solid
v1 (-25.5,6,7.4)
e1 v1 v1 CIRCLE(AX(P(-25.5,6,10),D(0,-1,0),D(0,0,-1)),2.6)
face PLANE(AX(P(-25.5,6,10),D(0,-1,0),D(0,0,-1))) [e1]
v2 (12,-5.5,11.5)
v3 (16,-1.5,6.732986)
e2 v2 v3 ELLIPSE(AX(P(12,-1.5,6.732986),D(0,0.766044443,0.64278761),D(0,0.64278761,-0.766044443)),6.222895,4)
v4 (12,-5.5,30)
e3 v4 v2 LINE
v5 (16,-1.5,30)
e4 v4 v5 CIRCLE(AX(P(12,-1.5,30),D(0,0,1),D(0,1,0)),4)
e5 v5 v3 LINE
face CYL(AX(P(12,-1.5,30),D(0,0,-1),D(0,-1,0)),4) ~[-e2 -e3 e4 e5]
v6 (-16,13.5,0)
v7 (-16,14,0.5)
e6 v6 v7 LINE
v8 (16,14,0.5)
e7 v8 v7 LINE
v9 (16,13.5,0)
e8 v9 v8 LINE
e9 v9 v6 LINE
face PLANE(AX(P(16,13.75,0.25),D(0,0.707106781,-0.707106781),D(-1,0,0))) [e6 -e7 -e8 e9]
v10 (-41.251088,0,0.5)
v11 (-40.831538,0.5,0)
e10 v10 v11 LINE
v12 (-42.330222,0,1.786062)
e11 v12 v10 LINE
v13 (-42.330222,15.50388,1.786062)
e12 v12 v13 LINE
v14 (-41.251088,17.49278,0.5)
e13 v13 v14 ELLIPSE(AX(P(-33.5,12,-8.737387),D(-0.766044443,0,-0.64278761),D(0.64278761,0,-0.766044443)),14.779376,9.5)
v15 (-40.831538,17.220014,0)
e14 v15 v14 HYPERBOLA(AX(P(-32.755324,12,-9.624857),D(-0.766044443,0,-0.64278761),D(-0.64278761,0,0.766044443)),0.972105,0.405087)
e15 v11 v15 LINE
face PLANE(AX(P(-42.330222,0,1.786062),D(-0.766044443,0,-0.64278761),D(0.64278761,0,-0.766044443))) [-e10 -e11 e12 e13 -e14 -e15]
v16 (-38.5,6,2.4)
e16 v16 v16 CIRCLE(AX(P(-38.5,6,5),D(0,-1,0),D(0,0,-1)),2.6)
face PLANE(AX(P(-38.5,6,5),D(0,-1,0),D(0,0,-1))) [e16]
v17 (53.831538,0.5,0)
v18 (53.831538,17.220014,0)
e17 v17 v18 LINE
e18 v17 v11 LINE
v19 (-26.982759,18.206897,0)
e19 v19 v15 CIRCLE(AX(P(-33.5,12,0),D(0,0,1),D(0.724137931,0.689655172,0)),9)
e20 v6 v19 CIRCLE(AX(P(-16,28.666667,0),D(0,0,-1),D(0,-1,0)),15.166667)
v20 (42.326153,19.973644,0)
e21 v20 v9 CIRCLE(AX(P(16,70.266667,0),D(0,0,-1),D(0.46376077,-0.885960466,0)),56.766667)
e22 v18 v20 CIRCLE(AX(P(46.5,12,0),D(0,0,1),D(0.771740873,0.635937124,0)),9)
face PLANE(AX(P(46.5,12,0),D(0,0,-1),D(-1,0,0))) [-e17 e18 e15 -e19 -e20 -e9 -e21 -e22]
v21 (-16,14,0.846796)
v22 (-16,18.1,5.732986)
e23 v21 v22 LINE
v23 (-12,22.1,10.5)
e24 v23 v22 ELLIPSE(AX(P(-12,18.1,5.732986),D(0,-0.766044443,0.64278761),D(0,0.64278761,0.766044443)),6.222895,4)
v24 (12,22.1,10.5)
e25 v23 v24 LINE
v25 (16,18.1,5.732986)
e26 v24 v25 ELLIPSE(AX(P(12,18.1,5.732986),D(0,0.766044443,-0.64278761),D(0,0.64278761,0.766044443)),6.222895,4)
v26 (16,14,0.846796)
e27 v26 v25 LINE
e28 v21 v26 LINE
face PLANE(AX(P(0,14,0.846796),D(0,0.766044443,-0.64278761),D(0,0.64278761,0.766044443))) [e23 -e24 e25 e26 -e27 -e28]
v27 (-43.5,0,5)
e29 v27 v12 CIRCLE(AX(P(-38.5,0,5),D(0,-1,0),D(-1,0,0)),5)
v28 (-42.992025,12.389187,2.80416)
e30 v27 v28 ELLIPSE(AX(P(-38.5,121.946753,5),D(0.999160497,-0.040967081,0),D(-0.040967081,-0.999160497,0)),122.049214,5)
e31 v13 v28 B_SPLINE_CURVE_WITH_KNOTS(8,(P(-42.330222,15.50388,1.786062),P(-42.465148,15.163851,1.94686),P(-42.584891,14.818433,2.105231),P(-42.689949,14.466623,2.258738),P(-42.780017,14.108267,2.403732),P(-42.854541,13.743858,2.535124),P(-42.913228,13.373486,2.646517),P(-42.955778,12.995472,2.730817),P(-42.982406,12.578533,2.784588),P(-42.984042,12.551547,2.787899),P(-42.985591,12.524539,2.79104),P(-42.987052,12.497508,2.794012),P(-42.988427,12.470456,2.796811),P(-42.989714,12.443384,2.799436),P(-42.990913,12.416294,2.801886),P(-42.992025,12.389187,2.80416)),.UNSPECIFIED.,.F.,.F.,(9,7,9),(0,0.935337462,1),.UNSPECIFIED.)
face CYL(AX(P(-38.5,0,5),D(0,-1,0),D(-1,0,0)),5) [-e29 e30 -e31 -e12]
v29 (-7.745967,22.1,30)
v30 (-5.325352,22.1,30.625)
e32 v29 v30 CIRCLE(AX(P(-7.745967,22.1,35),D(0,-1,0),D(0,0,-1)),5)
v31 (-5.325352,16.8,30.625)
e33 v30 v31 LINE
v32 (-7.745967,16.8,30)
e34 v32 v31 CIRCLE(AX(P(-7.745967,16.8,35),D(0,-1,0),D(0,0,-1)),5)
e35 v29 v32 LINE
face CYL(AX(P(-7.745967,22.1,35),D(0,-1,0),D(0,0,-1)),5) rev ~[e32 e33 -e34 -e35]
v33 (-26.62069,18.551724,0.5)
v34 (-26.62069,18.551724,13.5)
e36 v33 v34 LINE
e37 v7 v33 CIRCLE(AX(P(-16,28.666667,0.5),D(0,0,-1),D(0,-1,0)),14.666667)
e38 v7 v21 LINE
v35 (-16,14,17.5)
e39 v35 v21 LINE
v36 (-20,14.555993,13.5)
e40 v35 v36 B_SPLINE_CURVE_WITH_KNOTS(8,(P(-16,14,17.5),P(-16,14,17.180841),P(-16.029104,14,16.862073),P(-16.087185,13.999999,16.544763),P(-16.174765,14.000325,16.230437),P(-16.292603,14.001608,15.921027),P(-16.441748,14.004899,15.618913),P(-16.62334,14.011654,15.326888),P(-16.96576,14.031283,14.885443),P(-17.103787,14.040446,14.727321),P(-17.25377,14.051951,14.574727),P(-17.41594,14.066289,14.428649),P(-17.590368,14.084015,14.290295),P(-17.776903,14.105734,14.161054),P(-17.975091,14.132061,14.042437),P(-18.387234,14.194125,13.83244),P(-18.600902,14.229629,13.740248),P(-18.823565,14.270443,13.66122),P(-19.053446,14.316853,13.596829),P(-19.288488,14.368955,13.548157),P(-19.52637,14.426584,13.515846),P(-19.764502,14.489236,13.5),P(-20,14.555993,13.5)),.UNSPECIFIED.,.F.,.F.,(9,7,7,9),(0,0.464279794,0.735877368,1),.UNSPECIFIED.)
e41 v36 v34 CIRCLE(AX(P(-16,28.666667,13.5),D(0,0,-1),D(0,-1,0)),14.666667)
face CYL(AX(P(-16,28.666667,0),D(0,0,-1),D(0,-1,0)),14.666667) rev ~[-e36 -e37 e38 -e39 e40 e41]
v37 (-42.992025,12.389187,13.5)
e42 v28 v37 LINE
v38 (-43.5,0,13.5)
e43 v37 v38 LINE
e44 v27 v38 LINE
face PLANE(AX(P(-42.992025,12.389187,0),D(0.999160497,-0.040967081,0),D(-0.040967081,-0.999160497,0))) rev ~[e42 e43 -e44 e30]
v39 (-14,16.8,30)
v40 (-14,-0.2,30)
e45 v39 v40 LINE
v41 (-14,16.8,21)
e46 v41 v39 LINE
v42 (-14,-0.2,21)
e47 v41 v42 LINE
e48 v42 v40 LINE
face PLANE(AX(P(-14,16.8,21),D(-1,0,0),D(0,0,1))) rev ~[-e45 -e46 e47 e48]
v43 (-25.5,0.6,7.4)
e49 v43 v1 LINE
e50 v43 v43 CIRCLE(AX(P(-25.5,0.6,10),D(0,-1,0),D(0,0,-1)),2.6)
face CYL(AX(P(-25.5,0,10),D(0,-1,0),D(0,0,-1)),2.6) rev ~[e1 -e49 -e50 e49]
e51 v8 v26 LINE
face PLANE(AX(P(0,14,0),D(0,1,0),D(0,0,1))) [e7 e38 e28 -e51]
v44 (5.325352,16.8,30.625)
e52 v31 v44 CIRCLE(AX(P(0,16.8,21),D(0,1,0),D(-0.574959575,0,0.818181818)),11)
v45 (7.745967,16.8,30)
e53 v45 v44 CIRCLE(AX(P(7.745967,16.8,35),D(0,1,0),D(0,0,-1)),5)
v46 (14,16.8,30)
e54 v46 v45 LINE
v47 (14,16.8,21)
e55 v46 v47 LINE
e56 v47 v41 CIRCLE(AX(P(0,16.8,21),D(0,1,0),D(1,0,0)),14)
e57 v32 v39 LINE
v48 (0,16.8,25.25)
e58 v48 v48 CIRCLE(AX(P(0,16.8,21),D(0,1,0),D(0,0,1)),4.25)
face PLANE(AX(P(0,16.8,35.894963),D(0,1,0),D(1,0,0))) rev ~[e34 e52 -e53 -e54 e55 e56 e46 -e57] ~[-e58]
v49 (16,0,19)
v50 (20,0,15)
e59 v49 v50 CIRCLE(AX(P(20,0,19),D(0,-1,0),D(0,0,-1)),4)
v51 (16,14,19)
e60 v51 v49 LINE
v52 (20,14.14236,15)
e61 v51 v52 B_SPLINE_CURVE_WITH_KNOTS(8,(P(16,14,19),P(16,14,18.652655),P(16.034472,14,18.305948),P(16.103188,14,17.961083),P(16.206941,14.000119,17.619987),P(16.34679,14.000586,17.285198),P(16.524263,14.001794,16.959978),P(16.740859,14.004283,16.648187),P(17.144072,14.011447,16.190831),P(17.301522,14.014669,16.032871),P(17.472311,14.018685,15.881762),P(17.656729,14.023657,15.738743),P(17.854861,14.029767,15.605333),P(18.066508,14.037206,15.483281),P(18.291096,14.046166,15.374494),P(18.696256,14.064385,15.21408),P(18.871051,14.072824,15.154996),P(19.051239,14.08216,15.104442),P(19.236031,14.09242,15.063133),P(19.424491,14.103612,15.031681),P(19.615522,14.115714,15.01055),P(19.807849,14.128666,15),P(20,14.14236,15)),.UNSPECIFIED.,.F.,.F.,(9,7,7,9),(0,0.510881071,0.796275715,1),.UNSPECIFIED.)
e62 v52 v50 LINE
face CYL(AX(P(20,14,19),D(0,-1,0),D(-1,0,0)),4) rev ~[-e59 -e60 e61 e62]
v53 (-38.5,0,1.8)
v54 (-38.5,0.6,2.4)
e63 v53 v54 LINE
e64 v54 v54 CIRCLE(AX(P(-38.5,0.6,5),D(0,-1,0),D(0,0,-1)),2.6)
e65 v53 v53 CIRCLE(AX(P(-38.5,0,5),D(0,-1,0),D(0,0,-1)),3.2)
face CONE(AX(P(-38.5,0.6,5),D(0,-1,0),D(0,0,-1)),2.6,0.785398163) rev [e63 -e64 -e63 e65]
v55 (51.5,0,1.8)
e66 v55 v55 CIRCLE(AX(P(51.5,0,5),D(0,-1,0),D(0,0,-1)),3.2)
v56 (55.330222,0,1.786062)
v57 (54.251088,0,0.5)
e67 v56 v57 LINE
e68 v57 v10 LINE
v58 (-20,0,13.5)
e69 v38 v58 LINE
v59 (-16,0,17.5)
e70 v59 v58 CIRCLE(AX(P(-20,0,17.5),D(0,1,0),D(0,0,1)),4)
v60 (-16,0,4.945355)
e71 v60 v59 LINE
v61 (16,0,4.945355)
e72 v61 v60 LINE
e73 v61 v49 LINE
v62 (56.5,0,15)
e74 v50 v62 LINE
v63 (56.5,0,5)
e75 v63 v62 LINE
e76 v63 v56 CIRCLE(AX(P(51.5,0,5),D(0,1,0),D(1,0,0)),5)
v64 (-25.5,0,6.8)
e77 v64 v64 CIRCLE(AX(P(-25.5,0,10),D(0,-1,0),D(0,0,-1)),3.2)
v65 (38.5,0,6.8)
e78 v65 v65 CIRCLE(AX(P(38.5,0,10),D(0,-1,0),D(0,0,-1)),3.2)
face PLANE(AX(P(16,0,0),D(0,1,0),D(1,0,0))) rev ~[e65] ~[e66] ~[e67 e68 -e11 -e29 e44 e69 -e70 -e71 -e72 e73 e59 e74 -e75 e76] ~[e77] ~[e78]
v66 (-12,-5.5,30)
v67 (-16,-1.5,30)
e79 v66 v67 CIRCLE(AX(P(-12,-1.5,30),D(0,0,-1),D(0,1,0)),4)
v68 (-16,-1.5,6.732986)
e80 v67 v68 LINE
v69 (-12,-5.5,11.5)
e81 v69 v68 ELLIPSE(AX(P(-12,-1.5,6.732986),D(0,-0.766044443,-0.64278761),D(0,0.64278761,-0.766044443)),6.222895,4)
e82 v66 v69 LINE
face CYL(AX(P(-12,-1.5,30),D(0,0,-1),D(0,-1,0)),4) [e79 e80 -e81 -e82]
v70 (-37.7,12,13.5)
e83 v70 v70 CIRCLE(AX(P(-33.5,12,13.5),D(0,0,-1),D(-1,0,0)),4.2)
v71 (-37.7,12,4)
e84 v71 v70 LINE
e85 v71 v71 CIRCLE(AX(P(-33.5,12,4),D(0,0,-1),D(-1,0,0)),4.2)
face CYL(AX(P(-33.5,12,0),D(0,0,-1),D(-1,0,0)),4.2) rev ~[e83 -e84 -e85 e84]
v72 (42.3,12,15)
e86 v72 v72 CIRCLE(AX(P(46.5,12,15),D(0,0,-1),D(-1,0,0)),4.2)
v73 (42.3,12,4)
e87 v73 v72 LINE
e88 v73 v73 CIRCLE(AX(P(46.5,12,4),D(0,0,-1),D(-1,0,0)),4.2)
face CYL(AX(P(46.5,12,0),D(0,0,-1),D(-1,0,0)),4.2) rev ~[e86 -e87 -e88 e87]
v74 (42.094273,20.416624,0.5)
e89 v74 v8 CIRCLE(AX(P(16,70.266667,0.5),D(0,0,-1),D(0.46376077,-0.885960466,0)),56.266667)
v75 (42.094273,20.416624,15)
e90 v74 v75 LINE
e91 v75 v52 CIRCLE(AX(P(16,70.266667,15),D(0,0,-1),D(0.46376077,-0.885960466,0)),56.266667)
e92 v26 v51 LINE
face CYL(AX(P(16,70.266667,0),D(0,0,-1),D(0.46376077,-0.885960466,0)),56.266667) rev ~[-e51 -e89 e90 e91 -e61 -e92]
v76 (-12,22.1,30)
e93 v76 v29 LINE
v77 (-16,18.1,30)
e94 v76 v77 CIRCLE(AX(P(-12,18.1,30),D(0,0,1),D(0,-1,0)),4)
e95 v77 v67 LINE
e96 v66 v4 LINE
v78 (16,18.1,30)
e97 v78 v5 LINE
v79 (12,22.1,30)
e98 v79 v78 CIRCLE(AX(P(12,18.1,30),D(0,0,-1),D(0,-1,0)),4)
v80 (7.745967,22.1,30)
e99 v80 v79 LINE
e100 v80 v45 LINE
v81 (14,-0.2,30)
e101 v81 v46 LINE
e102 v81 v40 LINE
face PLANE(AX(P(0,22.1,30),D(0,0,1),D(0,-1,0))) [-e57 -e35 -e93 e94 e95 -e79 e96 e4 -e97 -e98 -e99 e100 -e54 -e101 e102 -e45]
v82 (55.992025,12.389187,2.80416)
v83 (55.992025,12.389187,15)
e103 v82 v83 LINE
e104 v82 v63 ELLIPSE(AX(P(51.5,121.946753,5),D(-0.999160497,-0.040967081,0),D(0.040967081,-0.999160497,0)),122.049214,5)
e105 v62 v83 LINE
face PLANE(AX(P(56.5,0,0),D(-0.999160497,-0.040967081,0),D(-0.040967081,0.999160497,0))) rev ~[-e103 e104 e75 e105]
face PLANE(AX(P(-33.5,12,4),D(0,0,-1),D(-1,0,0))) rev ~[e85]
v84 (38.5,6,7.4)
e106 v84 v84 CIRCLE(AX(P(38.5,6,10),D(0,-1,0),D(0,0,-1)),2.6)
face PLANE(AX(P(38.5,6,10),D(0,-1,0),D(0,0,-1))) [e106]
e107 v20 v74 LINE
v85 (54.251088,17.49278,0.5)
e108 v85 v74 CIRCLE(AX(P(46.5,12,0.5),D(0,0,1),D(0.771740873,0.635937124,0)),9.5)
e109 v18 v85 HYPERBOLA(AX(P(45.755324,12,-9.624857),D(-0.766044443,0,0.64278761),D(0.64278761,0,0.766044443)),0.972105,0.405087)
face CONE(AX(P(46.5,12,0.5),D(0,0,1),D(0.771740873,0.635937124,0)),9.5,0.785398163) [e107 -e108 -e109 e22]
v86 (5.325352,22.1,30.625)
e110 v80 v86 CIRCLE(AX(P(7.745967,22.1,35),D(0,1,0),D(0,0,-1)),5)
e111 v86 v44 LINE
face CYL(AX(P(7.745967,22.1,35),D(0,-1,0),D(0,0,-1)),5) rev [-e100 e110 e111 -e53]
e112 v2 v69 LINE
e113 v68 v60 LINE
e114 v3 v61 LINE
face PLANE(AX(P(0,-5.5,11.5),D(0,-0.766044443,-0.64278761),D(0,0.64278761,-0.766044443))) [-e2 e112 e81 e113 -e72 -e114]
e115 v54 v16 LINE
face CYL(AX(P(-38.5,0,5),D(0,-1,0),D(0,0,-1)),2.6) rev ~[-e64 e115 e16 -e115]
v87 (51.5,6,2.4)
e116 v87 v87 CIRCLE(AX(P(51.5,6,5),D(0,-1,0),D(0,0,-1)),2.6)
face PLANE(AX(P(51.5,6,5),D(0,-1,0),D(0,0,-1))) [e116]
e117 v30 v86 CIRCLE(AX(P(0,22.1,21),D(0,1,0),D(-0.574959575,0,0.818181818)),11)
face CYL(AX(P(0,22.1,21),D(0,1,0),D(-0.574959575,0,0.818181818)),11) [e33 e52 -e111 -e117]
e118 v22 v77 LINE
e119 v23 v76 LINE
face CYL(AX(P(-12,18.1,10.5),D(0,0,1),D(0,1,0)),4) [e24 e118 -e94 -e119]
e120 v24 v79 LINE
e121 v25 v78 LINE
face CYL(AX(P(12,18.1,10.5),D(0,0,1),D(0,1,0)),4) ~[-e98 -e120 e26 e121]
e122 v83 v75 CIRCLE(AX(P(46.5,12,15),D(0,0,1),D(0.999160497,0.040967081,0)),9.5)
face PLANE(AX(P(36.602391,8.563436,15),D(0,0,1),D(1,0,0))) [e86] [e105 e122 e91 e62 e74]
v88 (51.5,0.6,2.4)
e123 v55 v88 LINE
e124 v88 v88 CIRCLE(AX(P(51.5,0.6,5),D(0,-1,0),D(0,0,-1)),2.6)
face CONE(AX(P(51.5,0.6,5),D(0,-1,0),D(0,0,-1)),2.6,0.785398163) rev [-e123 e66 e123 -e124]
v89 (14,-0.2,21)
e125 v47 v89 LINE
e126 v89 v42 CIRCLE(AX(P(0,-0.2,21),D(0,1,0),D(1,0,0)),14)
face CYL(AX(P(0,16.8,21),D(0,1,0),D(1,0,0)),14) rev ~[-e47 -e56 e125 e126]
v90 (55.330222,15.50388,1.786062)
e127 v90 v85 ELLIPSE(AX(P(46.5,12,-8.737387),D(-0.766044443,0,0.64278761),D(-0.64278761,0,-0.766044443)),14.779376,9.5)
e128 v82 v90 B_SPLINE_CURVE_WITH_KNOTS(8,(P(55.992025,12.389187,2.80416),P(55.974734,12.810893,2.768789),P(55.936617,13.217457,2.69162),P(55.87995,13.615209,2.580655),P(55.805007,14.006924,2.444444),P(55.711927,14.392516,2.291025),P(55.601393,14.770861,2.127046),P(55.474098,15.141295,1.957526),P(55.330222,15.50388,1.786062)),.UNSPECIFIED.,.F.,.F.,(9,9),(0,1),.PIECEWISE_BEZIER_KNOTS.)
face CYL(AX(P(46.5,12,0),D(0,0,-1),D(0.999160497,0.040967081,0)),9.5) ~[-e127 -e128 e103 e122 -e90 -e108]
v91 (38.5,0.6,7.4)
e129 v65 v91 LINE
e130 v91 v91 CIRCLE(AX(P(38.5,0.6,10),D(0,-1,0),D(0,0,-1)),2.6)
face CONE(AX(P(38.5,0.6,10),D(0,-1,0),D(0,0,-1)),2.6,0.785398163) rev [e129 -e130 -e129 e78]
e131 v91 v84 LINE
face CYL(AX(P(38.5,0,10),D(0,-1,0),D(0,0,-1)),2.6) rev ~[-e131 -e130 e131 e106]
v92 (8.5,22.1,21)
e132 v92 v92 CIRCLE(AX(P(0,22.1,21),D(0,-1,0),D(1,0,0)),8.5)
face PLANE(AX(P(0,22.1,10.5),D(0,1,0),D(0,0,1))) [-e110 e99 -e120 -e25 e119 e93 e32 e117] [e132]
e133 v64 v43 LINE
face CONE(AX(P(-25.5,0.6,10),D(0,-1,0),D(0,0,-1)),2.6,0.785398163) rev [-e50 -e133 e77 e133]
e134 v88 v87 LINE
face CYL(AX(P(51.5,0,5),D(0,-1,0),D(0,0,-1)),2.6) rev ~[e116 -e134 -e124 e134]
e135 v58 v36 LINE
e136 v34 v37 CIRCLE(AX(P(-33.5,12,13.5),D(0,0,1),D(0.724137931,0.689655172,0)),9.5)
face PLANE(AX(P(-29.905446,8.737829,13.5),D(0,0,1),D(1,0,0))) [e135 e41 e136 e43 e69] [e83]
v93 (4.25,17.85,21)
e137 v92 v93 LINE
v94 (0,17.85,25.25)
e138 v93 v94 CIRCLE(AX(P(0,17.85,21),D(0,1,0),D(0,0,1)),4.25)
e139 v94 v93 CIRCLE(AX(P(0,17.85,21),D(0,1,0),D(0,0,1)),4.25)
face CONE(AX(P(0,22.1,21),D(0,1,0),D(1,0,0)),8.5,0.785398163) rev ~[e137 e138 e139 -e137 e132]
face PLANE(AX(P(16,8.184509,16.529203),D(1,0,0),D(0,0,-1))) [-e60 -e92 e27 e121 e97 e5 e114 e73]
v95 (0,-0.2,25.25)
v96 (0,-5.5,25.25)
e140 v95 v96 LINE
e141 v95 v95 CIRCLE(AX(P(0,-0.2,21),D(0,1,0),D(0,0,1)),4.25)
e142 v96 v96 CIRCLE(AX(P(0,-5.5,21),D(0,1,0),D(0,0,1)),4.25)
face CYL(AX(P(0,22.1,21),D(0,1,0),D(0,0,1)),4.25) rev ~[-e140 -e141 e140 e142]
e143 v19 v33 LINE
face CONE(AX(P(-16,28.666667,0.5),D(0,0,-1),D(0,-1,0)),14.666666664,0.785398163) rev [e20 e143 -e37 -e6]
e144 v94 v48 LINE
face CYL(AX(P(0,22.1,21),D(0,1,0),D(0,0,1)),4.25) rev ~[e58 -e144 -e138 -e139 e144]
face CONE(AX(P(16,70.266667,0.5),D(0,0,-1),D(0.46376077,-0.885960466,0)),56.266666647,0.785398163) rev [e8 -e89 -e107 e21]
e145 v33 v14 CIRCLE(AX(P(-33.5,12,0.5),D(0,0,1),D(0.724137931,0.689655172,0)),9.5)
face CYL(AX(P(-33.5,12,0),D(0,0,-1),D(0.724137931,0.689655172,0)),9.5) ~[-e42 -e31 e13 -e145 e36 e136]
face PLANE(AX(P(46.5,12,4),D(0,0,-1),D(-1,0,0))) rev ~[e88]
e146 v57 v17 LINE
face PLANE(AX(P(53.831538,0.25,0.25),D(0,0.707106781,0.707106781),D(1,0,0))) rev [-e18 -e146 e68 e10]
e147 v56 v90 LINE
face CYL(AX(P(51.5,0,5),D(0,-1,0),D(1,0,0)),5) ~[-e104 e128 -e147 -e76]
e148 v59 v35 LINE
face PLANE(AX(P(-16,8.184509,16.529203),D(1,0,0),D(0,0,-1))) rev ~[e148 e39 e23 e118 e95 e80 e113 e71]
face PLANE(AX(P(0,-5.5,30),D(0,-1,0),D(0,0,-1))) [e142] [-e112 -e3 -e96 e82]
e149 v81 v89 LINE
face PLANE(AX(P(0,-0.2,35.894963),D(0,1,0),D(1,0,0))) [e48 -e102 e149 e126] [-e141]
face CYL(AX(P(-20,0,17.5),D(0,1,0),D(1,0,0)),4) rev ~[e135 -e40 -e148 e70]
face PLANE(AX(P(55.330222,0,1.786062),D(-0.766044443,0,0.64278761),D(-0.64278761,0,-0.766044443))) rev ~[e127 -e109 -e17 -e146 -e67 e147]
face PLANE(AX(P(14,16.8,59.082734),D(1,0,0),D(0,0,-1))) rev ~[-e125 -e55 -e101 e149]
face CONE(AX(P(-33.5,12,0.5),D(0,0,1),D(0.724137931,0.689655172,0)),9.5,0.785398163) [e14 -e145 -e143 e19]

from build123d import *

# Parameters (mm, degrees)
BOSS_EXTRUDE1_DEPTH                             = 16
SKETCH2_R                                       = 4.25
CUT_EXTRUDE1_DEPTH                              = 28.6
CUT_EXTRUDE2_START                              = -5.3
CUT_EXTRUDE2_DEPTH                              = 17
CSK_FOR_M8_FLAT_HEAD_MACHINE_SCREW1_D           = 8
CSK_FOR_M8_FLAT_HEAD_MACHINE_SCREW1_CSINK_D     = 17
CSK_FOR_M8_FLAT_HEAD_MACHINE_SCREW1_CSINK_ANGLE = 90
SKETCH6_R                                       = 4.2
BOSS_EXTRUDE2_DEPTH                             = 15
SKETCH7_R                                       = 4.2
BOSS_EXTRUDE3_DEPTH                             = 4
SKETCH9_R                                       = 2.6
CUT_EXTRUDE3_DEPTH                              = 6
CUT_EXTRUDE4_DEPTH                              = 1.5
FILLET2_R                                       = 4
FILLET3_R                                       = 4
BOSS_EXTRUDE4_DEPTH                             = 5.3
FILLET4_R                                       = 5
CHAMFER1_SIZE                                   = 0.6
CUT_EXTRUDE5_DEPTH                              = 23.1
CHAMFER2_SIZE                                   = 0.5


with BuildPart() as part:
    # Sketch1 → Boss-Extrude1 (new body, symmetric)
    with BuildSketch(Plane(origin=(0, 0, 0), x_dir=(0, 0, -1), z_dir=(1, 0, 0))):
        Polygon((0, 0), (0, 14), (-0.8467959, 14), (-10.5, 22.1), (-30, 22.1), (-30, -5.5), (-11.5, -5.5), (-4.945355241, 0), align=None)
    extrude(amount=BOSS_EXTRUDE1_DEPTH, both=True)

    # Sketch2 → Cut-Extrude1 (cut, through all)
    with BuildSketch(Plane(origin=(0, 22.1, 0), x_dir=(1, 0, 0), z_dir=(0, 1, 0))):
        with Locations(Location((0, -21, 0), (0, 0, 270))):  # turned: the seam where the file's is
            Circle(SKETCH2_R)
    extrude(amount=-CUT_EXTRUDE1_DEPTH, mode=Mode.SUBTRACT)

    # Sketch3 → Cut-Extrude2 (cut)
    with BuildSketch(Plane(origin=(0, 22.1, 0), x_dir=(1, 0, 0), z_dir=(0, 1, 0)).offset(CUT_EXTRUDE2_START)):
        with BuildLine():
            Line((-14, -21), (-14, -59.082734499))
            Line((-14, -59.082734499), (14, -59.082734499))
            Line((14, -59.082734499), (14, -21))
            ThreePointArc((14, -21), (0, -7), (-14, -21))
        make_face()
    extrude(amount=-CUT_EXTRUDE2_DEPTH, mode=Mode.SUBTRACT)

    # CSK for M8 Flat Head Machine Screw1 (through all)
    with Locations(Plane(origin=(0, 22.1, 0), x_dir=(-1, 0, 0), z_dir=(0, 1, 0))):
        with Locations((0, 21)):
            CounterSinkHole(CSK_FOR_M8_FLAT_HEAD_MACHINE_SCREW1_D / 2, CSK_FOR_M8_FLAT_HEAD_MACHINE_SCREW1_CSINK_D / 2, counter_sink_angle=CSK_FOR_M8_FLAT_HEAD_MACHINE_SCREW1_CSINK_ANGLE)

    # Sketch6 → Boss-Extrude2 (add)
    with BuildSketch(Plane(origin=(0, 0, 0), x_dir=(-1, 0, 0), z_dir=(0, 0, -1))):
        with BuildLine():
            Line((-16, 14), (-16, 0))
            Line((-16, 0), (-56.5, 0))
            Line((-56.5, 0), (-55.992024719, 12.389187266))
            ThreePointArc((-55.992024719, 12.389187266), (-51.251583122, 20.226327117), (-42.094272681, 20.41662443))
            ThreePointArc((-42.094272681, 20.41662443), (-29.435811623, 15.627699401), (-16, 14))
        make_face()
        with Locations((-46.5, 12)):
            Circle(SKETCH6_R, mode=Mode.SUBTRACT)
        with BuildLine():
            Line((42.992024719, 12.389187266), (43.5, 0))
            Line((43.5, 0), (16, 0))
            Line((16, 0), (16, 14))
            ThreePointArc((16, 14), (21.777483046, 15.185872893), (26.620689655, 18.551724138))
            ThreePointArc((26.620689655, 18.551724138), (36.846757278, 20.890962587), (42.992024719, 12.389187266))
        make_face()
        with Locations((33.5, 12)):
            Circle(SKETCH6_R, mode=Mode.SUBTRACT)
    extrude(amount=-BOSS_EXTRUDE2_DEPTH)

    # Sketch7 → Boss-Extrude3 (add)
    with BuildSketch(Plane(origin=(0, 0, 0), x_dir=(-1, 0, 0), z_dir=(0, 0, -1))):
        with Locations((-46.5, 12)):
            Circle(SKETCH7_R)
        with Locations((33.5, 12)):
            Circle(SKETCH7_R)
    extrude(amount=-BOSS_EXTRUDE3_DEPTH)

    # Sketch9 → Cut-Extrude3 (cut)
    with BuildSketch(Plane.XZ):
        with Locations(Location((-38.5, 5, 0), (0, 0, 270))):  # turned: the seam where the file's is
            Circle(SKETCH9_R)
        with Locations(Location((-25.5, 10, 0), (0, 0, 270))):  # turned: the seam where the file's is
            Circle(SKETCH9_R)
        with Locations(Location((38.5, 10, 0), (0, 0, 270))):  # turned: the seam where the file's is
            Circle(SKETCH9_R)
        with Locations(Location((51.5, 5, 0), (0, 0, 270))):  # turned: the seam where the file's is
            Circle(SKETCH9_R)
    extrude(amount=-CUT_EXTRUDE3_DEPTH, mode=Mode.SUBTRACT)

    # Sketch11 → Cut-Extrude4 (cut)
    with BuildSketch(Plane.XY.offset(15)):
        with BuildLine():
            Line((-42.992024719, 12.389187266), (-43.5, 0))
            Line((-43.5, 0), (-16, 0))
            Line((-16, 0), (-16, 14))
            ThreePointArc((-16, 14), (-21.777483046, 15.185872893), (-26.620689655, 18.551724138))
            ThreePointArc((-26.620689655, 18.551724138), (-36.846757278, 20.890962587), (-42.992024719, 12.389187266))
        make_face()
    extrude(amount=-CUT_EXTRUDE4_DEPTH, mode=Mode.SUBTRACT)

    # Fillet2
    fillet2_edges = [part.edges().sort_by_distance(p)[0] for p in [
        (-16, 7, 13.5),
        (16, 7, 15),
    ]]
    fillet(fillet2_edges, radius=FILLET2_R)

    # Fillet3
    fillet3_edges = [part.edges().sort_by_distance(p)[0] for p in [
        (16, -5.5, 20.75),
        (-16, -5.5, 20.75),
        (-16, 22.1, 20.25),
        (16, 22.1, 20.25),
    ]]
    fillet(fillet3_edges, radius=FILLET3_R)

    # Sketch10 → Boss-Extrude4 (add)
    with BuildSketch(Plane(origin=(0, 22.1, 0), x_dir=(1, 0, 0), z_dir=(0, 1, 0))):
        with BuildLine():
            Line((6.32455532, -30), (-6.32455532, -30))
            ThreePointArc((-6.32455532, -30), (0, -32), (6.32455532, -30))
        make_face()
    extrude(amount=-BOSS_EXTRUDE4_DEPTH)

    # Fillet4
    fillet4_edges = [part.edges().sort_by_distance(p)[0] for p in [
        (6.32455532, 19.45, 30),
        (-6.32455532, 19.45, 30),
    ]]
    fillet(fillet4_edges, radius=FILLET4_R)

    # Chamfer1
    chamfer1_edges = [part.edges().sort_by_distance(p)[0] for p in [
        (-38.5, 0, 7.6),
        (-25.5, 0, 12.6),
        (38.5, 0, 12.6),
        (51.5, 0, 7.6),
    ]]
    chamfer(chamfer1_edges, length=CHAMFER1_SIZE)

    # Sketch12 → Cut-Extrude5 (cut, through all)
    with BuildSketch(Plane.XZ):
        with BuildLine():
            Line((-42.330222216, 1.786061952), (-40.831538291, 0))
            Line((-40.831538291, 0), (-43.5, 0))
            Line((-43.5, 0), (-43.5, 5))
            ThreePointArc((-43.5, 5), (-43.198463104, 3.289899283), (-42.330222216, 1.786061952))
        make_face()
        with BuildLine():
            Line((55.330222216, 1.786061952), (53.831538291, 0))
            Line((53.831538291, 0), (56.5, 0))
            Line((56.5, 0), (56.5, 5))
            ThreePointArc((56.5, 5), (56.198463104, 3.289899283), (55.330222216, 1.786061952))
        make_face()
    extrude(amount=-CUT_EXTRUDE5_DEPTH, mode=Mode.SUBTRACT)

    # Chamfer2
    chamfer2_edges = [part.edges().sort_by_distance(p)[0] for p in [
        (-33.840931852, 21.493880422, 0),
        (-21.777483046, 15.185872893, 0),
        (0, 14, 0),
        (29.435811623, 15.627699401, 0),
        (48.384280249, 21.311255981, 0),
        (6.5, 0, 0),
    ]]
    chamfer(chamfer2_edges, length=CHAMFER2_SIZE)


solid = part.part
